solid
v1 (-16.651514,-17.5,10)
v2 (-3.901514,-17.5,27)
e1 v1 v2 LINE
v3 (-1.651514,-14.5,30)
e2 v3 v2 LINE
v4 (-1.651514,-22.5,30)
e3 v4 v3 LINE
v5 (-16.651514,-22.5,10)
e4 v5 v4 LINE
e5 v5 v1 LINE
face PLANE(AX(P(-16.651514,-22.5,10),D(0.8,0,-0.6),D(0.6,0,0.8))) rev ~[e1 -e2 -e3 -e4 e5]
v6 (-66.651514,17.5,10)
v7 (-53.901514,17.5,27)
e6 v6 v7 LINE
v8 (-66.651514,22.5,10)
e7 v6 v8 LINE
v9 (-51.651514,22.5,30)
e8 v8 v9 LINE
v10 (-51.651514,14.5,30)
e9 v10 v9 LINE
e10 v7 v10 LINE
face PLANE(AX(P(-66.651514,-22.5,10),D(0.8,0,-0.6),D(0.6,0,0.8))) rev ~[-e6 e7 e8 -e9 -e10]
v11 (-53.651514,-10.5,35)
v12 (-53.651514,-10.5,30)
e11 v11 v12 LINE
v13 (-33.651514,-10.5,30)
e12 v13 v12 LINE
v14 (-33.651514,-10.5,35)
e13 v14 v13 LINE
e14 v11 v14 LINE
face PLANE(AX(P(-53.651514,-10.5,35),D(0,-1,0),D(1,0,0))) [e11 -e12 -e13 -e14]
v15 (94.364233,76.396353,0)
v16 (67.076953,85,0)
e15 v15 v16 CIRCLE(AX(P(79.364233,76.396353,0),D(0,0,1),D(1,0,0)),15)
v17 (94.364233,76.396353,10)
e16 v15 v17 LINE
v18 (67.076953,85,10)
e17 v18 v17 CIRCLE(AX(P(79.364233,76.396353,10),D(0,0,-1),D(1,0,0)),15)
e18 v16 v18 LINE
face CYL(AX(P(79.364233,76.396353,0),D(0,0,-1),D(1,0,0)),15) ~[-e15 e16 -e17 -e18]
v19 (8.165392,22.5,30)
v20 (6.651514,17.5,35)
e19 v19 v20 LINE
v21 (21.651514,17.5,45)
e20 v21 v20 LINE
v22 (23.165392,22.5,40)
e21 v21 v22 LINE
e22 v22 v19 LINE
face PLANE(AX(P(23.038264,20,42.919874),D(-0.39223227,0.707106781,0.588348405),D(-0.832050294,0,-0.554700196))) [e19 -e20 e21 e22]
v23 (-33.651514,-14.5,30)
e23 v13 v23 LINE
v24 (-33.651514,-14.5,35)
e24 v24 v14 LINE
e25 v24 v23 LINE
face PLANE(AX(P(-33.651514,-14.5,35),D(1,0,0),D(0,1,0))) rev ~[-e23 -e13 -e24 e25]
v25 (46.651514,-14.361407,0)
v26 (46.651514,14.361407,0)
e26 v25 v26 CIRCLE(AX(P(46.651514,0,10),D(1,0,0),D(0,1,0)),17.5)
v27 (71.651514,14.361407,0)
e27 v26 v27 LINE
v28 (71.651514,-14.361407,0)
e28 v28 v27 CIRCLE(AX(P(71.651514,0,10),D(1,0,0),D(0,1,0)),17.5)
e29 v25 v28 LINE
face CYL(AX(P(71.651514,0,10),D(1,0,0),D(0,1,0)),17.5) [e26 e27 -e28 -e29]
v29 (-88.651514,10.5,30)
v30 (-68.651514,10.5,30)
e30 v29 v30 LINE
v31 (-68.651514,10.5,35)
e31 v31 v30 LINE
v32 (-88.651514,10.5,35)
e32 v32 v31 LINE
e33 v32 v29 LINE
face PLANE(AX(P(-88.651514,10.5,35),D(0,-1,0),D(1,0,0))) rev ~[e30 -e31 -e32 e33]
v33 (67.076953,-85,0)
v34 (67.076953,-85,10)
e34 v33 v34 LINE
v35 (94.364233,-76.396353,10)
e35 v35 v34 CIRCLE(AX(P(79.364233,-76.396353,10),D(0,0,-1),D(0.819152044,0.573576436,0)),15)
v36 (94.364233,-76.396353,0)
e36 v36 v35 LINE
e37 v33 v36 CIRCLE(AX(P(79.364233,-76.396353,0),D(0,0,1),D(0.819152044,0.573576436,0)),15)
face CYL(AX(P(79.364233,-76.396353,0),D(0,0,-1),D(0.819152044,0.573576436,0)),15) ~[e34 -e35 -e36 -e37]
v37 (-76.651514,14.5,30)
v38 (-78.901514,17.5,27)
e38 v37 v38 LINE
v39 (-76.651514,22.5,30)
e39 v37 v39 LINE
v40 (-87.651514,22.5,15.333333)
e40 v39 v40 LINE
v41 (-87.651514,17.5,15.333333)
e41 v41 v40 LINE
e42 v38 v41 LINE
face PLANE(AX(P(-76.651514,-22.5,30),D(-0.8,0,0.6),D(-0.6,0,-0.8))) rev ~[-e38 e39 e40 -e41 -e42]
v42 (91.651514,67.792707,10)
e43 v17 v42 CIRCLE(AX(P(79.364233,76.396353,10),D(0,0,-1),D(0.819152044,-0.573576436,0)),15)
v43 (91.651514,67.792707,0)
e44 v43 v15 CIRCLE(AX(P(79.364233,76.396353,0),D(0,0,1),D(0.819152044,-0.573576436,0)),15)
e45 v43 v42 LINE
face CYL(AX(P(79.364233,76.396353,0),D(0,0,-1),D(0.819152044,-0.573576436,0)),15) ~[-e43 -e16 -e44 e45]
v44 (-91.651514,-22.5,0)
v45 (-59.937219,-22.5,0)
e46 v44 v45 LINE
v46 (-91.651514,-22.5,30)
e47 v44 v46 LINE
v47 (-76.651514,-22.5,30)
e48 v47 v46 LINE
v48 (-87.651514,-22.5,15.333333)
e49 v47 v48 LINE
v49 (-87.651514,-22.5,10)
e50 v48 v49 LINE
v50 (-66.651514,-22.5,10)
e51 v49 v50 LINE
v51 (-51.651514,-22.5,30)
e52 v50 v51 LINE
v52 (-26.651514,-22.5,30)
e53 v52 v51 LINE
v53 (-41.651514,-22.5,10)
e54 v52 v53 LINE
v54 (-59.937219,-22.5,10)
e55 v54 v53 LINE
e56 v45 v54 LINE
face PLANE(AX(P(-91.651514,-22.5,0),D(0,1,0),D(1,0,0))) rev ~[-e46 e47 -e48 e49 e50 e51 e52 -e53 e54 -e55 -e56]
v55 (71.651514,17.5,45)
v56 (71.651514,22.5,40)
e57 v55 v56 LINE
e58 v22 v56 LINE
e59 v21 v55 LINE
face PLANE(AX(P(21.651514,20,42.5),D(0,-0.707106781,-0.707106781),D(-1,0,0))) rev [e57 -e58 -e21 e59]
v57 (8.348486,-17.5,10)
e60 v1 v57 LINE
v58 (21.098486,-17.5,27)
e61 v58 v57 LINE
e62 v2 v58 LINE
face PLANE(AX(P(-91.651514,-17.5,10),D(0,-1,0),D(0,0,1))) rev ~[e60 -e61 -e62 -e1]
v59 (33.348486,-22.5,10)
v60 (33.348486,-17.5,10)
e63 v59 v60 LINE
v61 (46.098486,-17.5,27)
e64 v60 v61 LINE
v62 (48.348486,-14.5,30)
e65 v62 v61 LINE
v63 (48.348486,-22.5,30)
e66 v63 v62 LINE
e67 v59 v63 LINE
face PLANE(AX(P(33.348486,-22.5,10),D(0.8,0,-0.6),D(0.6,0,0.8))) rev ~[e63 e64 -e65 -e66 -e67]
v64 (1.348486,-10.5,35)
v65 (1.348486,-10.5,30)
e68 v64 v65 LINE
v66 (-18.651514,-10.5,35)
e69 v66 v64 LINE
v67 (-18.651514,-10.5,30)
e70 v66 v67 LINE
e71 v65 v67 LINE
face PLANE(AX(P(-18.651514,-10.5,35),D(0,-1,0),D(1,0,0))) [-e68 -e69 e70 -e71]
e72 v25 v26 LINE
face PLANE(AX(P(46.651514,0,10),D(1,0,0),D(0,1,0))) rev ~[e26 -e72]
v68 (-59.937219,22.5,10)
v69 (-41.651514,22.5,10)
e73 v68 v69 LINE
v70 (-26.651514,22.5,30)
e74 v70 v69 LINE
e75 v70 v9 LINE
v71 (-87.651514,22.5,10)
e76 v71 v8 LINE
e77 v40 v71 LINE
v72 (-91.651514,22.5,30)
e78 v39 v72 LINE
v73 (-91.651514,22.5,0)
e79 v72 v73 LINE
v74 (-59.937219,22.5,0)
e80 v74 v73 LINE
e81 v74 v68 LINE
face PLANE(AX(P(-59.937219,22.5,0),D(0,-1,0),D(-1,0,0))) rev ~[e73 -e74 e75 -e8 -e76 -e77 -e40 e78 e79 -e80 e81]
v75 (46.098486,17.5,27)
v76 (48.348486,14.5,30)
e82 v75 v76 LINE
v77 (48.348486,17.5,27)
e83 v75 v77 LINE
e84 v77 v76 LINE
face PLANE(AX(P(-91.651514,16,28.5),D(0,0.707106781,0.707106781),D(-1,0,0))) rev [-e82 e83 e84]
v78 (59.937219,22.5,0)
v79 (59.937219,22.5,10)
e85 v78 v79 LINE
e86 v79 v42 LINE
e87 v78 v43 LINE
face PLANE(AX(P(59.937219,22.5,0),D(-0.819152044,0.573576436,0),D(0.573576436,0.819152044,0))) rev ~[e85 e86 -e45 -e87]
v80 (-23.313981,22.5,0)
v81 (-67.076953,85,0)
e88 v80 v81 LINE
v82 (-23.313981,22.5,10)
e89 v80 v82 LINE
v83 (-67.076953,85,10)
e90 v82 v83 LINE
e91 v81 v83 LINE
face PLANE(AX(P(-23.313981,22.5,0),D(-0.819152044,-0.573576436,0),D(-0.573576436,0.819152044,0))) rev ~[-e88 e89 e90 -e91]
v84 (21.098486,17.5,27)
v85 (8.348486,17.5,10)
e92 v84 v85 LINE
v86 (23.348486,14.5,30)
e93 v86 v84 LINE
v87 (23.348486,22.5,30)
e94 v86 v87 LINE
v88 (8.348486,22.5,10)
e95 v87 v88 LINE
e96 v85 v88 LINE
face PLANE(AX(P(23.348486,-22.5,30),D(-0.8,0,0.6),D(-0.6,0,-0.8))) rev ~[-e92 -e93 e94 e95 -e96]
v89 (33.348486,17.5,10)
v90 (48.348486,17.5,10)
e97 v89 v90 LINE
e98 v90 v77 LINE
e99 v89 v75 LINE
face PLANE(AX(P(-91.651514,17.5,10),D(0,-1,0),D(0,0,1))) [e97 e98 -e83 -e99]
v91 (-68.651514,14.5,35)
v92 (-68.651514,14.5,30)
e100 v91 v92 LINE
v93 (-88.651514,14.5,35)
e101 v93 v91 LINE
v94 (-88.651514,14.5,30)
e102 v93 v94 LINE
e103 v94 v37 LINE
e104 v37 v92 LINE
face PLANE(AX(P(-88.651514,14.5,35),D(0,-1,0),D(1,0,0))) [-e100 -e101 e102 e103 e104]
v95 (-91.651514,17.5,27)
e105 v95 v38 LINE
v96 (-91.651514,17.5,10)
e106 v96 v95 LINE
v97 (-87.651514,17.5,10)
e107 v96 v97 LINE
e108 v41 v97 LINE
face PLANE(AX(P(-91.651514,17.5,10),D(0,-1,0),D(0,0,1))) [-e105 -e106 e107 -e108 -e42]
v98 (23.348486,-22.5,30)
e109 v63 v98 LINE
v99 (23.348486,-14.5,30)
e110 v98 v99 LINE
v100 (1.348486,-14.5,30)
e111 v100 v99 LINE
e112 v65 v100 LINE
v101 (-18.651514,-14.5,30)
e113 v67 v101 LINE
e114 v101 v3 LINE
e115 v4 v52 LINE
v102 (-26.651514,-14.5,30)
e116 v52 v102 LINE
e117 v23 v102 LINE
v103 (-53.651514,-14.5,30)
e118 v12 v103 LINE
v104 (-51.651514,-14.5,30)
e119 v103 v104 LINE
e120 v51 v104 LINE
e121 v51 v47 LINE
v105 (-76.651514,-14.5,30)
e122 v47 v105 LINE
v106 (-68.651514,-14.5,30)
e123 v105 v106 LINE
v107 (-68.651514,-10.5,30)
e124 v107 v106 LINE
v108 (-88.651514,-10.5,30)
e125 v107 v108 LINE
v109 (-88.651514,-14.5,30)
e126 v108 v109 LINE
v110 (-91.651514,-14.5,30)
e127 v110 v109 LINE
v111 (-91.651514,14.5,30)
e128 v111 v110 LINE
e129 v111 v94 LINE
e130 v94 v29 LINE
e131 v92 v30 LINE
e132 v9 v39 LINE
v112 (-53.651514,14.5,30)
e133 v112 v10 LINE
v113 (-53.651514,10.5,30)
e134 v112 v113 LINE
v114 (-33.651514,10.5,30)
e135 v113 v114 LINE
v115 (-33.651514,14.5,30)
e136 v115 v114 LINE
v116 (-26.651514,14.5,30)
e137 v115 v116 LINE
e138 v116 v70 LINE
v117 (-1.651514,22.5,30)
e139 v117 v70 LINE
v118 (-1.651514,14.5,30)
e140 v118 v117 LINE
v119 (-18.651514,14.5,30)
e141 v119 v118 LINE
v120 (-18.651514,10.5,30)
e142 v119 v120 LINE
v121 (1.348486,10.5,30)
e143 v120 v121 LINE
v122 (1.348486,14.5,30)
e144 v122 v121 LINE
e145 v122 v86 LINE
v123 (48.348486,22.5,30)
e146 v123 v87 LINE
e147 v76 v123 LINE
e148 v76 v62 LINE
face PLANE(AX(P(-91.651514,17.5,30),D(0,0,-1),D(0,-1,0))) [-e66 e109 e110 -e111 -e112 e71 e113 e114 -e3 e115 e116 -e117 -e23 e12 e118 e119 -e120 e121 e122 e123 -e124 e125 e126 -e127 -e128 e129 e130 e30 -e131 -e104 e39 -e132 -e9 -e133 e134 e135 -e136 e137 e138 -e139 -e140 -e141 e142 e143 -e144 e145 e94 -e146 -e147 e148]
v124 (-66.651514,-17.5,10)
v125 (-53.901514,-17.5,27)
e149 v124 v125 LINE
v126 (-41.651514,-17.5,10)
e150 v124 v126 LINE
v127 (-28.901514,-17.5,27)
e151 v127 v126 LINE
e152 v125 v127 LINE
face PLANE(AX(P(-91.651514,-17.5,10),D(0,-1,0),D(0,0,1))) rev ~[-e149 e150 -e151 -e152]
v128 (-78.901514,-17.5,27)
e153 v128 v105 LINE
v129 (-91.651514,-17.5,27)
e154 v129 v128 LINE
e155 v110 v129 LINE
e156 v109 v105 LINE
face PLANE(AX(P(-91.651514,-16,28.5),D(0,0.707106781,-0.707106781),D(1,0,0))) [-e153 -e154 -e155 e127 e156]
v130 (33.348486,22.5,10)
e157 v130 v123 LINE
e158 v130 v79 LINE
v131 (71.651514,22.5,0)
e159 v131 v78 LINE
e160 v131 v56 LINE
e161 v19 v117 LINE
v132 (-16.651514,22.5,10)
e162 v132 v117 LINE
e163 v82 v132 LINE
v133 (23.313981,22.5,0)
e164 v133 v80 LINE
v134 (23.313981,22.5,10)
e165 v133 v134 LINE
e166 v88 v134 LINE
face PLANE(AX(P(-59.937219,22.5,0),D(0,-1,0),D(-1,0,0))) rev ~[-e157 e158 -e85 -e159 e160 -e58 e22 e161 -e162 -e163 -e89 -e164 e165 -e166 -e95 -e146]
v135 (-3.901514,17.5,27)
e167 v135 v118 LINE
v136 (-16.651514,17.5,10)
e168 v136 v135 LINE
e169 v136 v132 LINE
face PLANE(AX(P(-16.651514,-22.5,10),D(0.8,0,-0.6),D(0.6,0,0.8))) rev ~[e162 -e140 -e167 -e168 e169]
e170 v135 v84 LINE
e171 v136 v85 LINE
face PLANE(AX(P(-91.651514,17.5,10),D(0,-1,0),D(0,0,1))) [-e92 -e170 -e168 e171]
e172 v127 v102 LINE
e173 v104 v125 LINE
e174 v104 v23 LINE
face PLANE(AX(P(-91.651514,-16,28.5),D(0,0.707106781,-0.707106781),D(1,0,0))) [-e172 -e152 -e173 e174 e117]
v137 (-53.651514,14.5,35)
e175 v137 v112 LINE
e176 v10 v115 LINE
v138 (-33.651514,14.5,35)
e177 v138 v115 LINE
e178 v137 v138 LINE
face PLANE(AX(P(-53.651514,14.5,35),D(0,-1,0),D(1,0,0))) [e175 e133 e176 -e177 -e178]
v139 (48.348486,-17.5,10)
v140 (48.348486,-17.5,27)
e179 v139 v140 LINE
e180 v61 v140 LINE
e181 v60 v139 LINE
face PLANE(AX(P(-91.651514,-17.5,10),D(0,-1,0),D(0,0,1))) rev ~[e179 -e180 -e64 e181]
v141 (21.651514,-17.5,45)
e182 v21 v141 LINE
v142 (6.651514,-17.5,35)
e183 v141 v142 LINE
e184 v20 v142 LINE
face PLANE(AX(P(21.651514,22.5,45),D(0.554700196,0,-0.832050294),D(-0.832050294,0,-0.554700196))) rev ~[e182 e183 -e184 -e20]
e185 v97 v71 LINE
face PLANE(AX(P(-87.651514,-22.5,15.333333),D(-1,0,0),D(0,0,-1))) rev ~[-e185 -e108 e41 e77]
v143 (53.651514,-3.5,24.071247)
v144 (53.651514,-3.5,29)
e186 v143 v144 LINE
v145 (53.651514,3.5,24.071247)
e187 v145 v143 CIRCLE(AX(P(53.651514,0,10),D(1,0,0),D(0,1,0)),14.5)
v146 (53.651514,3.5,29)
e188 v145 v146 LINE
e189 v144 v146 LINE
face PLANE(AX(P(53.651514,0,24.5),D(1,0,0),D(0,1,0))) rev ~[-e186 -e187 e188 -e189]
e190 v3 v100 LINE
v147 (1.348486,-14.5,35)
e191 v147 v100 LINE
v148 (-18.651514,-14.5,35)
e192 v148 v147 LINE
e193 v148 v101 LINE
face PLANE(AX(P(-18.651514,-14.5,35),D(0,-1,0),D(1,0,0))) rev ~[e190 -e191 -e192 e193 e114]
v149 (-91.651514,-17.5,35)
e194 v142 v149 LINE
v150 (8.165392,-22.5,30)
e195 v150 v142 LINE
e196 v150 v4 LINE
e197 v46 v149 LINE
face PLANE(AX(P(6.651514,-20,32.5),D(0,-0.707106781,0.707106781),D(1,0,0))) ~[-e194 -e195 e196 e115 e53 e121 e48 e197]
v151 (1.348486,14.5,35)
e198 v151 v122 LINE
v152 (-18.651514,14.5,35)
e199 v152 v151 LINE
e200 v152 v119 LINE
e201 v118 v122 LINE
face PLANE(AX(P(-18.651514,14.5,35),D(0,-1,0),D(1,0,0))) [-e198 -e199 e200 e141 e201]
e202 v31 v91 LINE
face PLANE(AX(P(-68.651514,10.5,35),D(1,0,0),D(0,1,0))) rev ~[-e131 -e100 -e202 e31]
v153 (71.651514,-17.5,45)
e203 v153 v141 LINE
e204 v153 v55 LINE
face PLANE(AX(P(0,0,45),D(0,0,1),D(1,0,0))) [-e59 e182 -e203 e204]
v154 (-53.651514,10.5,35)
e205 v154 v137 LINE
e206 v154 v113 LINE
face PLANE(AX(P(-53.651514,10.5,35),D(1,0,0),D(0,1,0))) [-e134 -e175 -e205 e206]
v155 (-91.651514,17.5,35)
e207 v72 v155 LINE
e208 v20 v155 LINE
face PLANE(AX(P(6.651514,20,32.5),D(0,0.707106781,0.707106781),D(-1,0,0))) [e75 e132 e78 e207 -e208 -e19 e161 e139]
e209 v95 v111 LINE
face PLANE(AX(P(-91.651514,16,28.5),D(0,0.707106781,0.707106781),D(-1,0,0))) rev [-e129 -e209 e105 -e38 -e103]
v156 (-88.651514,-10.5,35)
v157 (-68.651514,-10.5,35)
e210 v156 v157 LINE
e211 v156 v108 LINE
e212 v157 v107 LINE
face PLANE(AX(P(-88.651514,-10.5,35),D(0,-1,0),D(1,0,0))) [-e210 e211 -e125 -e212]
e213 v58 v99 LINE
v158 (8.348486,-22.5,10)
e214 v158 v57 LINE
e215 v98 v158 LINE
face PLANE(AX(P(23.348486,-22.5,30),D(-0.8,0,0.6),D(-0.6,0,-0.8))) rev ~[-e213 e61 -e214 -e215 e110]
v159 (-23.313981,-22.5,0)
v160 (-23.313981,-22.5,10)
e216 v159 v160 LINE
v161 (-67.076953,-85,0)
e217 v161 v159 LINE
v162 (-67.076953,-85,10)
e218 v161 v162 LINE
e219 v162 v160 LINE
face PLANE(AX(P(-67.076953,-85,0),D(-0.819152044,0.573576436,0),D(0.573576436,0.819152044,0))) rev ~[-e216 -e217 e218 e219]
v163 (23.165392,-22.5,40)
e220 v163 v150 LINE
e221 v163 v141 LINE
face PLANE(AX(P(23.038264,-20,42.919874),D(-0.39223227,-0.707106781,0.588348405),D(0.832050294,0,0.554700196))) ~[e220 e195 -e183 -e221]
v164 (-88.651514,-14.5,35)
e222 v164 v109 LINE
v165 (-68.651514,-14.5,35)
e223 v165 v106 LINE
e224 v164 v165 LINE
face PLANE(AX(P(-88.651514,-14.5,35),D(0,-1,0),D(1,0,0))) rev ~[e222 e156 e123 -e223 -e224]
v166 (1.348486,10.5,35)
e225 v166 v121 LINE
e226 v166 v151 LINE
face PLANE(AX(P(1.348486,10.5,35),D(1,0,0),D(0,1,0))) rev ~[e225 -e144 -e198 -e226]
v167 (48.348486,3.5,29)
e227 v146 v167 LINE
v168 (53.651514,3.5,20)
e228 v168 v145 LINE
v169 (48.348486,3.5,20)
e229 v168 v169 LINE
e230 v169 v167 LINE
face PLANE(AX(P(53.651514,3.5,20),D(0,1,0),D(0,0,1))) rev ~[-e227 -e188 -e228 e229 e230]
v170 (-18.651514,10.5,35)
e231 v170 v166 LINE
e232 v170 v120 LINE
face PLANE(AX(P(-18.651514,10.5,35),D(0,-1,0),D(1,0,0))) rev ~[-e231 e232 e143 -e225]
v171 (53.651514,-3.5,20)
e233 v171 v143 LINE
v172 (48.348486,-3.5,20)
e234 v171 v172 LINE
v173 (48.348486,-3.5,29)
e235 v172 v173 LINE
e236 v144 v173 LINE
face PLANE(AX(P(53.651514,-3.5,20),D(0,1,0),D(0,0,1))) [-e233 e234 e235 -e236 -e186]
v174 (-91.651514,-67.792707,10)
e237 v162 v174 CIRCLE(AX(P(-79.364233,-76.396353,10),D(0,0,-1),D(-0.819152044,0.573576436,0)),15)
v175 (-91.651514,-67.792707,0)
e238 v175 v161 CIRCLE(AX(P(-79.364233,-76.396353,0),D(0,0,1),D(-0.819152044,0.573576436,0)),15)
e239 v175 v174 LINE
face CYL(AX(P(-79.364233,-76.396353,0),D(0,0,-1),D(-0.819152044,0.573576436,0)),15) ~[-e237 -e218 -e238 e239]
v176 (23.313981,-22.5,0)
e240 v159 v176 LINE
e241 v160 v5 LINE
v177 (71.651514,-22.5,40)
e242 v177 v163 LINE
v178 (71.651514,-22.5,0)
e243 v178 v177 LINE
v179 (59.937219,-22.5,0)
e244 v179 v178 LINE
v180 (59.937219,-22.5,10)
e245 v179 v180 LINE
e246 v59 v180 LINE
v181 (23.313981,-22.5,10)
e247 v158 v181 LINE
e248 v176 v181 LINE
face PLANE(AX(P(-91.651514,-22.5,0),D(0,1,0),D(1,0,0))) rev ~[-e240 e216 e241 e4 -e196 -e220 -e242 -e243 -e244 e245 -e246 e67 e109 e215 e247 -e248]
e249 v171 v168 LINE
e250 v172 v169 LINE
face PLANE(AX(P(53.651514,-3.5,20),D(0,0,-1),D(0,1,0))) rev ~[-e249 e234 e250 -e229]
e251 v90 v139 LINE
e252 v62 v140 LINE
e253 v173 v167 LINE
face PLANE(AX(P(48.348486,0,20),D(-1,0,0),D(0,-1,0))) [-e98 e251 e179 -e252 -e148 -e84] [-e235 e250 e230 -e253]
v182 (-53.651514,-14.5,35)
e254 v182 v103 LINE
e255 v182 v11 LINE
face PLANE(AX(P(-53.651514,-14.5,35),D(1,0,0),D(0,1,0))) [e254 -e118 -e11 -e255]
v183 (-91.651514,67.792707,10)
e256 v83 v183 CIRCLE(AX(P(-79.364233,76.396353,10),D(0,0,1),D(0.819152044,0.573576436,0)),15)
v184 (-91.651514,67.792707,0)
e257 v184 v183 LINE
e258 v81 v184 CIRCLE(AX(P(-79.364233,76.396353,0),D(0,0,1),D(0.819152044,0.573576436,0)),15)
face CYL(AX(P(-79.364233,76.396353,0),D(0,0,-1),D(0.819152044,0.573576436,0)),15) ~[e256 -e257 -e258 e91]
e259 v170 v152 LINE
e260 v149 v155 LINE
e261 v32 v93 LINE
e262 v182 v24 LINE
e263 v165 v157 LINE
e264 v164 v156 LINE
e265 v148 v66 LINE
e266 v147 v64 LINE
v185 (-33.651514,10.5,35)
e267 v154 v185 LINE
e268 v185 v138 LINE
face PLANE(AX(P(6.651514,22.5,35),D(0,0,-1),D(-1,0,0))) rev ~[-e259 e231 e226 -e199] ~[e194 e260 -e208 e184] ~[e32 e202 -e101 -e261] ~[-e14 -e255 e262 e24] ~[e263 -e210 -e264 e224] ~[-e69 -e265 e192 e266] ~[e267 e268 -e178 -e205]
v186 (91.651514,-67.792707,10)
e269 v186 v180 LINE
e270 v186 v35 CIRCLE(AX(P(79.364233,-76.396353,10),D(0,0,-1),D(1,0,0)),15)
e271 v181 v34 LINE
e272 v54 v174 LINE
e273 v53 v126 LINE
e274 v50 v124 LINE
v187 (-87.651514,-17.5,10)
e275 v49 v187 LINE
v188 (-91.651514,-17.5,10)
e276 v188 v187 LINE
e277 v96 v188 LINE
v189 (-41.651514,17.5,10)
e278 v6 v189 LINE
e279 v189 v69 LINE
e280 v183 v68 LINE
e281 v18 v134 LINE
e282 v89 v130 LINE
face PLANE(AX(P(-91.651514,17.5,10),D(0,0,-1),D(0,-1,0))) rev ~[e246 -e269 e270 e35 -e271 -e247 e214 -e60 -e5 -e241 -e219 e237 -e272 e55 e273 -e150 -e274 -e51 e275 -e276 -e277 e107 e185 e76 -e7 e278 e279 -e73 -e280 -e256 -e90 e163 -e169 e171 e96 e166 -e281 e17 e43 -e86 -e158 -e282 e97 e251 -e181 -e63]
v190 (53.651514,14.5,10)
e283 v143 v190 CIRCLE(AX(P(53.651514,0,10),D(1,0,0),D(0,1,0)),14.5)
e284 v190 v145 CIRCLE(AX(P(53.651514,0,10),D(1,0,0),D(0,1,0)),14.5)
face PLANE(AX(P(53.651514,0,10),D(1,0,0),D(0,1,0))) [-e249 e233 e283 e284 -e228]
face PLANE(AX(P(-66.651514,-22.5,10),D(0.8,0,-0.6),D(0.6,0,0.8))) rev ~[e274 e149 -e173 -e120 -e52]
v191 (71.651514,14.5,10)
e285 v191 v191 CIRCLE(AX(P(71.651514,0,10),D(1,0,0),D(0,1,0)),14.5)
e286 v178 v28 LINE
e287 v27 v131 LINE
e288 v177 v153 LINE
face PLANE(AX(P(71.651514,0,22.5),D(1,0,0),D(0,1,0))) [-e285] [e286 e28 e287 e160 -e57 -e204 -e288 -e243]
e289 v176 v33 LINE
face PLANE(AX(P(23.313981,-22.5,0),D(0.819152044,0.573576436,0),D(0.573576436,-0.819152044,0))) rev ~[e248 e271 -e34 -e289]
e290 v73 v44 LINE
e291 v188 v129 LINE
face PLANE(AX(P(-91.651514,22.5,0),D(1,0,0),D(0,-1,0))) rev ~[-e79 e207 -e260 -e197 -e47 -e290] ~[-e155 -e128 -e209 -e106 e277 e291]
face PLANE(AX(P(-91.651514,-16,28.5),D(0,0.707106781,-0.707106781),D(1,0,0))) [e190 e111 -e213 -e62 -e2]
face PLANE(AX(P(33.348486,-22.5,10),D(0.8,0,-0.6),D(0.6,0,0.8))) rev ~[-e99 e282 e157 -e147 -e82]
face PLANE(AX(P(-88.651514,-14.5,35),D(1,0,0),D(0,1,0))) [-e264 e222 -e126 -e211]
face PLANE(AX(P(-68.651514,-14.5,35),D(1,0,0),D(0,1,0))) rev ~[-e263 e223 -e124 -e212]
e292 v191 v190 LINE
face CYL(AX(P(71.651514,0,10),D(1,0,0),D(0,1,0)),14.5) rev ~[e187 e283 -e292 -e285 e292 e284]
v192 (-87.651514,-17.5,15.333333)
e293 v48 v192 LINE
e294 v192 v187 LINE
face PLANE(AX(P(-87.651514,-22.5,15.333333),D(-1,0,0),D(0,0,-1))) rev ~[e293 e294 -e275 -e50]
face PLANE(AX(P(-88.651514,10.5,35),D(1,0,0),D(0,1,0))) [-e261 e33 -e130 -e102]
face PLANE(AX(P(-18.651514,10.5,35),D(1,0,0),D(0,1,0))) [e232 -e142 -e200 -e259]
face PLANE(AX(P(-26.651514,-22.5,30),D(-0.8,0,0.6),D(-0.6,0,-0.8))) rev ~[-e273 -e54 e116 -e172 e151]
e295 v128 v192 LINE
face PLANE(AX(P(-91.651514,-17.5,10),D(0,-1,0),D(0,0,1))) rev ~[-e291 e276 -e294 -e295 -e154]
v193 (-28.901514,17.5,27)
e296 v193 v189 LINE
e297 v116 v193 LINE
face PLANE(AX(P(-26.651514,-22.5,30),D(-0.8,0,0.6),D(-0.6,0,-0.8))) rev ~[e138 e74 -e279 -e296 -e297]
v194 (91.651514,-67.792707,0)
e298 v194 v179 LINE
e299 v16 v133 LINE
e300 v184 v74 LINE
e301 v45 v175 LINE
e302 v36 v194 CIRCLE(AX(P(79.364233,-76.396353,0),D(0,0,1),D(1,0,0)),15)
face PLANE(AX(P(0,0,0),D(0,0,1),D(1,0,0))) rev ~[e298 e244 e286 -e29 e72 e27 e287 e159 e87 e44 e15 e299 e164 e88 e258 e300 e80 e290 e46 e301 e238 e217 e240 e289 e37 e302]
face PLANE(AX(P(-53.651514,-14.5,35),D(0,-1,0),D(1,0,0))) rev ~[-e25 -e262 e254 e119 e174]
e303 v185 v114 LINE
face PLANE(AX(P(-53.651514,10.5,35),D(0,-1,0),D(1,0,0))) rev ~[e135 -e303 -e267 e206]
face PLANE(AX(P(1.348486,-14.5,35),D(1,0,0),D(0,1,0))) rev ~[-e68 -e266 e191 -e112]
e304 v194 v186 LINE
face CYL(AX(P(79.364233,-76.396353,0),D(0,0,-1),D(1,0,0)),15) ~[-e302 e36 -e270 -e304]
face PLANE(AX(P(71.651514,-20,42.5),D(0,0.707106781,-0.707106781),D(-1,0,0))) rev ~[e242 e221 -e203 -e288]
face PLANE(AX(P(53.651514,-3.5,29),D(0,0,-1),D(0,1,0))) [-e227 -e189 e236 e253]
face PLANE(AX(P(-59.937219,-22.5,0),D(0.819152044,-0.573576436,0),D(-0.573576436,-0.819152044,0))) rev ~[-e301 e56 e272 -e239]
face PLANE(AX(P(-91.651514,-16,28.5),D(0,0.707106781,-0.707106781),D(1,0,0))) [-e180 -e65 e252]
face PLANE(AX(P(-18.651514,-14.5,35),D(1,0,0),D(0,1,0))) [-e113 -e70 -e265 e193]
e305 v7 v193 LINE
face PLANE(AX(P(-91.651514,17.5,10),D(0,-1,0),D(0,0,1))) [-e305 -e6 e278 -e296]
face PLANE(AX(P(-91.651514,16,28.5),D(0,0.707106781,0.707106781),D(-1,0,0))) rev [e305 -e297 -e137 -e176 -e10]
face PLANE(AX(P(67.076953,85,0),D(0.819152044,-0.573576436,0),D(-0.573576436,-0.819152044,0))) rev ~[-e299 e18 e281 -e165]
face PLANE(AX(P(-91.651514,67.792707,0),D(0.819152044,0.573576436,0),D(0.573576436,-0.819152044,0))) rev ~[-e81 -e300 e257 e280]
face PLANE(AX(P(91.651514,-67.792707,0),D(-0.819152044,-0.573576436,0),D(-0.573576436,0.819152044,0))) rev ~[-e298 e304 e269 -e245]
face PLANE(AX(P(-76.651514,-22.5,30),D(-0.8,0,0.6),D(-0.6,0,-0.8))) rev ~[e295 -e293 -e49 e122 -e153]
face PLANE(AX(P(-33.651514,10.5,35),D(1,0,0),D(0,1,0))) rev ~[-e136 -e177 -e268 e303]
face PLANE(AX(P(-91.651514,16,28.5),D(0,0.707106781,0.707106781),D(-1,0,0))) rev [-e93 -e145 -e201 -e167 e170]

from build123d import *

# Parameters (mm, degrees)
F1_DEPTH  = 45
F2_W      = 216.5675759315
F2_H      = 199.976965785
F2_W_2    = 183.3030277982
F2_H_2    = 45
F3_DEPTH  = 35
F4_W      = 45
F4_H      = 45
F5_DEPTH  = 20
F6_R      = 17.5
F7_DEPTH  = 25
F8_R      = 14.5
F9_DEPTH  = 18
F10_W     = 7
F10_H     = 9
F11_DEPTH = 10
F12_W     = 35
F12_H     = 20
F13_DEPTH = 140
F15_DEPTH = 113.8973534547
F16_SIZE  = 5
F17_SIZE  = 3
F18_W     = 20
F18_H     = 4
F19_DEPTH = 10
F21_DEPTH = 113.8973534547


with BuildPart() as f1:
    # F0 (on Top) → F1 (new body)
    with BuildSketch(Plane.XY):
        Polygon((-91.6515138991, 22.5), (-91.6515138991, -22.5), (-59.9372190952, -22.5), (-23.3139814323, -22.5), (23.3139814323, -22.5), (59.9372190952, -22.5), (91.6515138991, -22.5), (91.6515138991, 22.5), (59.9372190952, 22.5), (23.3139814323, 22.5), (-23.3139814323, 22.5), (-59.9372190952, 22.5), align=None)
        with BuildLine():
            Line((-23.3139814323, -22.5), (-59.9372190952, -22.5))
            Line((-59.9372190952, -22.5), (-91.6515138991, -67.7927069095))
            ThreePointArc((-91.6515138991, -67.7927069095), (-74.8536462422, -62.0905991935), (-64.3642332348, -76.3963534547))
            ThreePointArc((-64.3642332348, -76.3963534547), (-65.0584789736, -80.9069404473), (-67.0769525704, -85))
            Line((-67.0769525704, -85), (-23.3139814323, -22.5))
        make_face()
        with BuildLine():
            ThreePointArc((-64.3642332348, -76.3963534547), (-74.8536462422, -62.0905991935), (-91.6515138991, -67.7927069095))
            Line((-91.6515138991, -67.7927069095), (-67.0769525704, -85))
            ThreePointArc((-67.0769525704, -85), (-65.0584789736, -80.9069404473), (-64.3642332348, -76.3963534547))
        make_face()
        with BuildLine():
            Line((-67.0769525704, -85), (-91.6515138991, -67.7927069095))
            ThreePointArc((-91.6515138991, -67.7927069095), (-87.96787978, -88.6836341191), (-67.0769525704, -85))
        make_face()
        with BuildLine():
            Line((-91.6515138991, 67.7927069095), (-59.9372190952, 22.5))
            Line((-59.9372190952, 22.5), (-23.3139814323, 22.5))
            Line((-23.3139814323, 22.5), (-67.0769525704, 85))
            ThreePointArc((-67.0769525704, 85), (-65.0584789736, 80.9069404473), (-64.3642332348, 76.3963534547))
            ThreePointArc((-64.3642332348, 76.3963534547), (-74.8536462422, 62.0905991935), (-91.6515138991, 67.7927069095))
        make_face()
        with BuildLine():
            Line((59.9372190952, -22.5), (23.3139814323, -22.5))
            Line((23.3139814323, -22.5), (67.0769525704, -85))
            ThreePointArc((67.0769525704, -85), (70.7605866895, -64.1090727904), (91.6515138991, -67.7927069095))
            Line((91.6515138991, -67.7927069095), (59.9372190952, -22.5))
        make_face()
        with BuildLine():
            ThreePointArc((-67.0769525704, 85), (-87.96787978, 88.6836341191), (-91.6515138991, 67.7927069095))
            ThreePointArc((-91.6515138991, 67.7927069095), (-74.8536462422, 62.0905991935), (-64.3642332348, 76.3963534547))
            ThreePointArc((-64.3642332348, 76.3963534547), (-65.0584789736, 80.9069404473), (-67.0769525704, 85))
        make_face()
        with BuildLine():
            ThreePointArc((91.6515138991, -67.7927069095), (70.7605866895, -64.1090727904), (67.0769525704, -85))
            ThreePointArc((67.0769525704, -85), (83.8748202273, -90.702107716), (94.3642332348, -76.3963534547))
            ThreePointArc((94.3642332348, -76.3963534547), (93.669987496, -71.8857664622), (91.6515138991, -67.7927069095))
        make_face()
        with BuildLine():
            Line((67.0769525704, 85), (23.3139814323, 22.5))
            Line((23.3139814323, 22.5), (59.9372190952, 22.5))
            Line((59.9372190952, 22.5), (91.6515138991, 67.7927069095))
            ThreePointArc((91.6515138991, 67.7927069095), (70.7605866895, 64.1090727904), (67.0769525704, 85))
        make_face()
        with BuildLine():
            ThreePointArc((94.3642332348, 76.3963534547), (83.8748202273, 90.702107716), (67.0769525704, 85))
            ThreePointArc((67.0769525704, 85), (70.7605866895, 64.1090727904), (91.6515138991, 67.7927069095))
            ThreePointArc((91.6515138991, 67.7927069095), (93.669987496, 71.8857664622), (94.3642332348, 76.3963534547))
        make_face()
    extrude(amount=F1_DEPTH)

    # F2 (on face) → F3 (cut)
    with BuildSketch(Plane.XY.offset(45)):
        Rectangle(F2_W, F2_H)
        Rectangle(F2_W_2, F2_H_2, mode=Mode.SUBTRACT)
    extrude(amount=-F3_DEPTH, mode=Mode.SUBTRACT)

    # F4 (on face) → F5 (cut)
    with BuildSketch(Plane.YZ.offset(91.6515138991)):
        with Locations((0, 22.5)):
            Rectangle(F4_W, F4_H)
    extrude(amount=-F5_DEPTH, mode=Mode.SUBTRACT)

    # F6 (on face) → F7 (join)
    with BuildSketch(Plane.YZ.offset(71.6515138991)):
        with Locations((0, 10)):
            Circle(F6_R)
    extrude(amount=-F7_DEPTH)

    # F8 (on face) → F9 (cut)
    with BuildSketch(Plane.YZ.offset(71.6515138991)):
        with Locations((0, 10)):
            Circle(F8_R)
    extrude(amount=-F9_DEPTH, mode=Mode.SUBTRACT)

    # F10 (on face) → F11 (cut)
    with BuildSketch(Plane.YZ.offset(53.6515138991)):
        with Locations((0, 24.5)):
            Rectangle(F10_W, F10_H)
    extrude(amount=-F11_DEPTH, mode=Mode.SUBTRACT)

    # F12 (on face) → F13 (cut)
    with BuildSketch(Plane(origin=(-91.6515138991, 0, 0), x_dir=(0, -1, 0), z_dir=(-1, 0, 0))):
        with Locations((0, 20)):
            Rectangle(F12_W, F12_H)
    extrude(amount=-F13_DEPTH, mode=Mode.SUBTRACT)

    # F14 (on face) → F15 (cut, through all)
    with BuildSketch(Plane(origin=(0, 22.5, 0), x_dir=(-1, 0, 0), z_dir=(0, 1, 0))):
        Polygon((-21.6515138991, 69.95960325), (-21.6515138991, 45), (-6.6515138991, 35), (91.6515138991, 35), (106.8655148461, 35), (106.8655148461, 69.95960325), align=None)
    extrude(amount=-F15_DEPTH, mode=Mode.SUBTRACT)

    # F16
    f16_edges = [f1.edges().sort_by_distance(p)[0] for p in [
        (46.651514, 22.5, 45),
        (46.651514, -22.5, 45),
        (14.151514, -22.5, 40),
        (14.151514, 22.5, 40),
        (-42.5, 22.5, 35),
        (-42.5, -22.5, 35),
    ]]
    chamfer(f16_edges, length=F16_SIZE)

    # F17
    f17_edges = [f1.edges().sort_by_distance(p)[0] for p in [
        (-21.651514, 17.5, 30),
        (-21.651514, -17.5, 30),
    ]]
    chamfer(f17_edges, length=F17_SIZE)

    # F18 (on face) → F19 (cut)
    with BuildSketch(Plane.XY.offset(35)):
        with Locations((-78.6515138991, 12.5)):
            Rectangle(F18_W, F18_H)
        with Locations((-43.6515138991, 12.5)):
            Rectangle(F18_W, F18_H)
        with Locations((-8.6515138991, 12.5)):
            Rectangle(F18_W, F18_H)
        with Locations((-78.6515138991, -12.5)):
            Rectangle(F18_W, F18_H)
        with Locations((-8.6515138991, -12.5)):
            Rectangle(F18_W, F18_H)
        with Locations((-43.6515138991, -12.5)):
            Rectangle(F18_W, F18_H)
    extrude(amount=-F19_DEPTH, mode=Mode.SUBTRACT)

    # F20 (on face) → F21 (cut, through all)
    with BuildSketch(Plane.XZ.offset(22.5)):
        Polygon((-51.6515138991, 30), (-76.6515138991, 30), (-87.6515138991, 15.3333333333), (-87.6515138991, 10), (-66.6515138991, 10), align=None)
        Polygon((-1.6515138991, 30), (-26.6515138991, 30), (-41.6515138991, 10), (-23.3139814323, 10), (-16.6515138991, 10), align=None)
        Polygon((48.3484861009, 30), (23.3484861009, 30), (8.3484861009, 10), (23.3139814323, 10), (33.3484861009, 10), align=None)
    extrude(amount=-F21_DEPTH, mode=Mode.SUBTRACT)


solid = f1.part
